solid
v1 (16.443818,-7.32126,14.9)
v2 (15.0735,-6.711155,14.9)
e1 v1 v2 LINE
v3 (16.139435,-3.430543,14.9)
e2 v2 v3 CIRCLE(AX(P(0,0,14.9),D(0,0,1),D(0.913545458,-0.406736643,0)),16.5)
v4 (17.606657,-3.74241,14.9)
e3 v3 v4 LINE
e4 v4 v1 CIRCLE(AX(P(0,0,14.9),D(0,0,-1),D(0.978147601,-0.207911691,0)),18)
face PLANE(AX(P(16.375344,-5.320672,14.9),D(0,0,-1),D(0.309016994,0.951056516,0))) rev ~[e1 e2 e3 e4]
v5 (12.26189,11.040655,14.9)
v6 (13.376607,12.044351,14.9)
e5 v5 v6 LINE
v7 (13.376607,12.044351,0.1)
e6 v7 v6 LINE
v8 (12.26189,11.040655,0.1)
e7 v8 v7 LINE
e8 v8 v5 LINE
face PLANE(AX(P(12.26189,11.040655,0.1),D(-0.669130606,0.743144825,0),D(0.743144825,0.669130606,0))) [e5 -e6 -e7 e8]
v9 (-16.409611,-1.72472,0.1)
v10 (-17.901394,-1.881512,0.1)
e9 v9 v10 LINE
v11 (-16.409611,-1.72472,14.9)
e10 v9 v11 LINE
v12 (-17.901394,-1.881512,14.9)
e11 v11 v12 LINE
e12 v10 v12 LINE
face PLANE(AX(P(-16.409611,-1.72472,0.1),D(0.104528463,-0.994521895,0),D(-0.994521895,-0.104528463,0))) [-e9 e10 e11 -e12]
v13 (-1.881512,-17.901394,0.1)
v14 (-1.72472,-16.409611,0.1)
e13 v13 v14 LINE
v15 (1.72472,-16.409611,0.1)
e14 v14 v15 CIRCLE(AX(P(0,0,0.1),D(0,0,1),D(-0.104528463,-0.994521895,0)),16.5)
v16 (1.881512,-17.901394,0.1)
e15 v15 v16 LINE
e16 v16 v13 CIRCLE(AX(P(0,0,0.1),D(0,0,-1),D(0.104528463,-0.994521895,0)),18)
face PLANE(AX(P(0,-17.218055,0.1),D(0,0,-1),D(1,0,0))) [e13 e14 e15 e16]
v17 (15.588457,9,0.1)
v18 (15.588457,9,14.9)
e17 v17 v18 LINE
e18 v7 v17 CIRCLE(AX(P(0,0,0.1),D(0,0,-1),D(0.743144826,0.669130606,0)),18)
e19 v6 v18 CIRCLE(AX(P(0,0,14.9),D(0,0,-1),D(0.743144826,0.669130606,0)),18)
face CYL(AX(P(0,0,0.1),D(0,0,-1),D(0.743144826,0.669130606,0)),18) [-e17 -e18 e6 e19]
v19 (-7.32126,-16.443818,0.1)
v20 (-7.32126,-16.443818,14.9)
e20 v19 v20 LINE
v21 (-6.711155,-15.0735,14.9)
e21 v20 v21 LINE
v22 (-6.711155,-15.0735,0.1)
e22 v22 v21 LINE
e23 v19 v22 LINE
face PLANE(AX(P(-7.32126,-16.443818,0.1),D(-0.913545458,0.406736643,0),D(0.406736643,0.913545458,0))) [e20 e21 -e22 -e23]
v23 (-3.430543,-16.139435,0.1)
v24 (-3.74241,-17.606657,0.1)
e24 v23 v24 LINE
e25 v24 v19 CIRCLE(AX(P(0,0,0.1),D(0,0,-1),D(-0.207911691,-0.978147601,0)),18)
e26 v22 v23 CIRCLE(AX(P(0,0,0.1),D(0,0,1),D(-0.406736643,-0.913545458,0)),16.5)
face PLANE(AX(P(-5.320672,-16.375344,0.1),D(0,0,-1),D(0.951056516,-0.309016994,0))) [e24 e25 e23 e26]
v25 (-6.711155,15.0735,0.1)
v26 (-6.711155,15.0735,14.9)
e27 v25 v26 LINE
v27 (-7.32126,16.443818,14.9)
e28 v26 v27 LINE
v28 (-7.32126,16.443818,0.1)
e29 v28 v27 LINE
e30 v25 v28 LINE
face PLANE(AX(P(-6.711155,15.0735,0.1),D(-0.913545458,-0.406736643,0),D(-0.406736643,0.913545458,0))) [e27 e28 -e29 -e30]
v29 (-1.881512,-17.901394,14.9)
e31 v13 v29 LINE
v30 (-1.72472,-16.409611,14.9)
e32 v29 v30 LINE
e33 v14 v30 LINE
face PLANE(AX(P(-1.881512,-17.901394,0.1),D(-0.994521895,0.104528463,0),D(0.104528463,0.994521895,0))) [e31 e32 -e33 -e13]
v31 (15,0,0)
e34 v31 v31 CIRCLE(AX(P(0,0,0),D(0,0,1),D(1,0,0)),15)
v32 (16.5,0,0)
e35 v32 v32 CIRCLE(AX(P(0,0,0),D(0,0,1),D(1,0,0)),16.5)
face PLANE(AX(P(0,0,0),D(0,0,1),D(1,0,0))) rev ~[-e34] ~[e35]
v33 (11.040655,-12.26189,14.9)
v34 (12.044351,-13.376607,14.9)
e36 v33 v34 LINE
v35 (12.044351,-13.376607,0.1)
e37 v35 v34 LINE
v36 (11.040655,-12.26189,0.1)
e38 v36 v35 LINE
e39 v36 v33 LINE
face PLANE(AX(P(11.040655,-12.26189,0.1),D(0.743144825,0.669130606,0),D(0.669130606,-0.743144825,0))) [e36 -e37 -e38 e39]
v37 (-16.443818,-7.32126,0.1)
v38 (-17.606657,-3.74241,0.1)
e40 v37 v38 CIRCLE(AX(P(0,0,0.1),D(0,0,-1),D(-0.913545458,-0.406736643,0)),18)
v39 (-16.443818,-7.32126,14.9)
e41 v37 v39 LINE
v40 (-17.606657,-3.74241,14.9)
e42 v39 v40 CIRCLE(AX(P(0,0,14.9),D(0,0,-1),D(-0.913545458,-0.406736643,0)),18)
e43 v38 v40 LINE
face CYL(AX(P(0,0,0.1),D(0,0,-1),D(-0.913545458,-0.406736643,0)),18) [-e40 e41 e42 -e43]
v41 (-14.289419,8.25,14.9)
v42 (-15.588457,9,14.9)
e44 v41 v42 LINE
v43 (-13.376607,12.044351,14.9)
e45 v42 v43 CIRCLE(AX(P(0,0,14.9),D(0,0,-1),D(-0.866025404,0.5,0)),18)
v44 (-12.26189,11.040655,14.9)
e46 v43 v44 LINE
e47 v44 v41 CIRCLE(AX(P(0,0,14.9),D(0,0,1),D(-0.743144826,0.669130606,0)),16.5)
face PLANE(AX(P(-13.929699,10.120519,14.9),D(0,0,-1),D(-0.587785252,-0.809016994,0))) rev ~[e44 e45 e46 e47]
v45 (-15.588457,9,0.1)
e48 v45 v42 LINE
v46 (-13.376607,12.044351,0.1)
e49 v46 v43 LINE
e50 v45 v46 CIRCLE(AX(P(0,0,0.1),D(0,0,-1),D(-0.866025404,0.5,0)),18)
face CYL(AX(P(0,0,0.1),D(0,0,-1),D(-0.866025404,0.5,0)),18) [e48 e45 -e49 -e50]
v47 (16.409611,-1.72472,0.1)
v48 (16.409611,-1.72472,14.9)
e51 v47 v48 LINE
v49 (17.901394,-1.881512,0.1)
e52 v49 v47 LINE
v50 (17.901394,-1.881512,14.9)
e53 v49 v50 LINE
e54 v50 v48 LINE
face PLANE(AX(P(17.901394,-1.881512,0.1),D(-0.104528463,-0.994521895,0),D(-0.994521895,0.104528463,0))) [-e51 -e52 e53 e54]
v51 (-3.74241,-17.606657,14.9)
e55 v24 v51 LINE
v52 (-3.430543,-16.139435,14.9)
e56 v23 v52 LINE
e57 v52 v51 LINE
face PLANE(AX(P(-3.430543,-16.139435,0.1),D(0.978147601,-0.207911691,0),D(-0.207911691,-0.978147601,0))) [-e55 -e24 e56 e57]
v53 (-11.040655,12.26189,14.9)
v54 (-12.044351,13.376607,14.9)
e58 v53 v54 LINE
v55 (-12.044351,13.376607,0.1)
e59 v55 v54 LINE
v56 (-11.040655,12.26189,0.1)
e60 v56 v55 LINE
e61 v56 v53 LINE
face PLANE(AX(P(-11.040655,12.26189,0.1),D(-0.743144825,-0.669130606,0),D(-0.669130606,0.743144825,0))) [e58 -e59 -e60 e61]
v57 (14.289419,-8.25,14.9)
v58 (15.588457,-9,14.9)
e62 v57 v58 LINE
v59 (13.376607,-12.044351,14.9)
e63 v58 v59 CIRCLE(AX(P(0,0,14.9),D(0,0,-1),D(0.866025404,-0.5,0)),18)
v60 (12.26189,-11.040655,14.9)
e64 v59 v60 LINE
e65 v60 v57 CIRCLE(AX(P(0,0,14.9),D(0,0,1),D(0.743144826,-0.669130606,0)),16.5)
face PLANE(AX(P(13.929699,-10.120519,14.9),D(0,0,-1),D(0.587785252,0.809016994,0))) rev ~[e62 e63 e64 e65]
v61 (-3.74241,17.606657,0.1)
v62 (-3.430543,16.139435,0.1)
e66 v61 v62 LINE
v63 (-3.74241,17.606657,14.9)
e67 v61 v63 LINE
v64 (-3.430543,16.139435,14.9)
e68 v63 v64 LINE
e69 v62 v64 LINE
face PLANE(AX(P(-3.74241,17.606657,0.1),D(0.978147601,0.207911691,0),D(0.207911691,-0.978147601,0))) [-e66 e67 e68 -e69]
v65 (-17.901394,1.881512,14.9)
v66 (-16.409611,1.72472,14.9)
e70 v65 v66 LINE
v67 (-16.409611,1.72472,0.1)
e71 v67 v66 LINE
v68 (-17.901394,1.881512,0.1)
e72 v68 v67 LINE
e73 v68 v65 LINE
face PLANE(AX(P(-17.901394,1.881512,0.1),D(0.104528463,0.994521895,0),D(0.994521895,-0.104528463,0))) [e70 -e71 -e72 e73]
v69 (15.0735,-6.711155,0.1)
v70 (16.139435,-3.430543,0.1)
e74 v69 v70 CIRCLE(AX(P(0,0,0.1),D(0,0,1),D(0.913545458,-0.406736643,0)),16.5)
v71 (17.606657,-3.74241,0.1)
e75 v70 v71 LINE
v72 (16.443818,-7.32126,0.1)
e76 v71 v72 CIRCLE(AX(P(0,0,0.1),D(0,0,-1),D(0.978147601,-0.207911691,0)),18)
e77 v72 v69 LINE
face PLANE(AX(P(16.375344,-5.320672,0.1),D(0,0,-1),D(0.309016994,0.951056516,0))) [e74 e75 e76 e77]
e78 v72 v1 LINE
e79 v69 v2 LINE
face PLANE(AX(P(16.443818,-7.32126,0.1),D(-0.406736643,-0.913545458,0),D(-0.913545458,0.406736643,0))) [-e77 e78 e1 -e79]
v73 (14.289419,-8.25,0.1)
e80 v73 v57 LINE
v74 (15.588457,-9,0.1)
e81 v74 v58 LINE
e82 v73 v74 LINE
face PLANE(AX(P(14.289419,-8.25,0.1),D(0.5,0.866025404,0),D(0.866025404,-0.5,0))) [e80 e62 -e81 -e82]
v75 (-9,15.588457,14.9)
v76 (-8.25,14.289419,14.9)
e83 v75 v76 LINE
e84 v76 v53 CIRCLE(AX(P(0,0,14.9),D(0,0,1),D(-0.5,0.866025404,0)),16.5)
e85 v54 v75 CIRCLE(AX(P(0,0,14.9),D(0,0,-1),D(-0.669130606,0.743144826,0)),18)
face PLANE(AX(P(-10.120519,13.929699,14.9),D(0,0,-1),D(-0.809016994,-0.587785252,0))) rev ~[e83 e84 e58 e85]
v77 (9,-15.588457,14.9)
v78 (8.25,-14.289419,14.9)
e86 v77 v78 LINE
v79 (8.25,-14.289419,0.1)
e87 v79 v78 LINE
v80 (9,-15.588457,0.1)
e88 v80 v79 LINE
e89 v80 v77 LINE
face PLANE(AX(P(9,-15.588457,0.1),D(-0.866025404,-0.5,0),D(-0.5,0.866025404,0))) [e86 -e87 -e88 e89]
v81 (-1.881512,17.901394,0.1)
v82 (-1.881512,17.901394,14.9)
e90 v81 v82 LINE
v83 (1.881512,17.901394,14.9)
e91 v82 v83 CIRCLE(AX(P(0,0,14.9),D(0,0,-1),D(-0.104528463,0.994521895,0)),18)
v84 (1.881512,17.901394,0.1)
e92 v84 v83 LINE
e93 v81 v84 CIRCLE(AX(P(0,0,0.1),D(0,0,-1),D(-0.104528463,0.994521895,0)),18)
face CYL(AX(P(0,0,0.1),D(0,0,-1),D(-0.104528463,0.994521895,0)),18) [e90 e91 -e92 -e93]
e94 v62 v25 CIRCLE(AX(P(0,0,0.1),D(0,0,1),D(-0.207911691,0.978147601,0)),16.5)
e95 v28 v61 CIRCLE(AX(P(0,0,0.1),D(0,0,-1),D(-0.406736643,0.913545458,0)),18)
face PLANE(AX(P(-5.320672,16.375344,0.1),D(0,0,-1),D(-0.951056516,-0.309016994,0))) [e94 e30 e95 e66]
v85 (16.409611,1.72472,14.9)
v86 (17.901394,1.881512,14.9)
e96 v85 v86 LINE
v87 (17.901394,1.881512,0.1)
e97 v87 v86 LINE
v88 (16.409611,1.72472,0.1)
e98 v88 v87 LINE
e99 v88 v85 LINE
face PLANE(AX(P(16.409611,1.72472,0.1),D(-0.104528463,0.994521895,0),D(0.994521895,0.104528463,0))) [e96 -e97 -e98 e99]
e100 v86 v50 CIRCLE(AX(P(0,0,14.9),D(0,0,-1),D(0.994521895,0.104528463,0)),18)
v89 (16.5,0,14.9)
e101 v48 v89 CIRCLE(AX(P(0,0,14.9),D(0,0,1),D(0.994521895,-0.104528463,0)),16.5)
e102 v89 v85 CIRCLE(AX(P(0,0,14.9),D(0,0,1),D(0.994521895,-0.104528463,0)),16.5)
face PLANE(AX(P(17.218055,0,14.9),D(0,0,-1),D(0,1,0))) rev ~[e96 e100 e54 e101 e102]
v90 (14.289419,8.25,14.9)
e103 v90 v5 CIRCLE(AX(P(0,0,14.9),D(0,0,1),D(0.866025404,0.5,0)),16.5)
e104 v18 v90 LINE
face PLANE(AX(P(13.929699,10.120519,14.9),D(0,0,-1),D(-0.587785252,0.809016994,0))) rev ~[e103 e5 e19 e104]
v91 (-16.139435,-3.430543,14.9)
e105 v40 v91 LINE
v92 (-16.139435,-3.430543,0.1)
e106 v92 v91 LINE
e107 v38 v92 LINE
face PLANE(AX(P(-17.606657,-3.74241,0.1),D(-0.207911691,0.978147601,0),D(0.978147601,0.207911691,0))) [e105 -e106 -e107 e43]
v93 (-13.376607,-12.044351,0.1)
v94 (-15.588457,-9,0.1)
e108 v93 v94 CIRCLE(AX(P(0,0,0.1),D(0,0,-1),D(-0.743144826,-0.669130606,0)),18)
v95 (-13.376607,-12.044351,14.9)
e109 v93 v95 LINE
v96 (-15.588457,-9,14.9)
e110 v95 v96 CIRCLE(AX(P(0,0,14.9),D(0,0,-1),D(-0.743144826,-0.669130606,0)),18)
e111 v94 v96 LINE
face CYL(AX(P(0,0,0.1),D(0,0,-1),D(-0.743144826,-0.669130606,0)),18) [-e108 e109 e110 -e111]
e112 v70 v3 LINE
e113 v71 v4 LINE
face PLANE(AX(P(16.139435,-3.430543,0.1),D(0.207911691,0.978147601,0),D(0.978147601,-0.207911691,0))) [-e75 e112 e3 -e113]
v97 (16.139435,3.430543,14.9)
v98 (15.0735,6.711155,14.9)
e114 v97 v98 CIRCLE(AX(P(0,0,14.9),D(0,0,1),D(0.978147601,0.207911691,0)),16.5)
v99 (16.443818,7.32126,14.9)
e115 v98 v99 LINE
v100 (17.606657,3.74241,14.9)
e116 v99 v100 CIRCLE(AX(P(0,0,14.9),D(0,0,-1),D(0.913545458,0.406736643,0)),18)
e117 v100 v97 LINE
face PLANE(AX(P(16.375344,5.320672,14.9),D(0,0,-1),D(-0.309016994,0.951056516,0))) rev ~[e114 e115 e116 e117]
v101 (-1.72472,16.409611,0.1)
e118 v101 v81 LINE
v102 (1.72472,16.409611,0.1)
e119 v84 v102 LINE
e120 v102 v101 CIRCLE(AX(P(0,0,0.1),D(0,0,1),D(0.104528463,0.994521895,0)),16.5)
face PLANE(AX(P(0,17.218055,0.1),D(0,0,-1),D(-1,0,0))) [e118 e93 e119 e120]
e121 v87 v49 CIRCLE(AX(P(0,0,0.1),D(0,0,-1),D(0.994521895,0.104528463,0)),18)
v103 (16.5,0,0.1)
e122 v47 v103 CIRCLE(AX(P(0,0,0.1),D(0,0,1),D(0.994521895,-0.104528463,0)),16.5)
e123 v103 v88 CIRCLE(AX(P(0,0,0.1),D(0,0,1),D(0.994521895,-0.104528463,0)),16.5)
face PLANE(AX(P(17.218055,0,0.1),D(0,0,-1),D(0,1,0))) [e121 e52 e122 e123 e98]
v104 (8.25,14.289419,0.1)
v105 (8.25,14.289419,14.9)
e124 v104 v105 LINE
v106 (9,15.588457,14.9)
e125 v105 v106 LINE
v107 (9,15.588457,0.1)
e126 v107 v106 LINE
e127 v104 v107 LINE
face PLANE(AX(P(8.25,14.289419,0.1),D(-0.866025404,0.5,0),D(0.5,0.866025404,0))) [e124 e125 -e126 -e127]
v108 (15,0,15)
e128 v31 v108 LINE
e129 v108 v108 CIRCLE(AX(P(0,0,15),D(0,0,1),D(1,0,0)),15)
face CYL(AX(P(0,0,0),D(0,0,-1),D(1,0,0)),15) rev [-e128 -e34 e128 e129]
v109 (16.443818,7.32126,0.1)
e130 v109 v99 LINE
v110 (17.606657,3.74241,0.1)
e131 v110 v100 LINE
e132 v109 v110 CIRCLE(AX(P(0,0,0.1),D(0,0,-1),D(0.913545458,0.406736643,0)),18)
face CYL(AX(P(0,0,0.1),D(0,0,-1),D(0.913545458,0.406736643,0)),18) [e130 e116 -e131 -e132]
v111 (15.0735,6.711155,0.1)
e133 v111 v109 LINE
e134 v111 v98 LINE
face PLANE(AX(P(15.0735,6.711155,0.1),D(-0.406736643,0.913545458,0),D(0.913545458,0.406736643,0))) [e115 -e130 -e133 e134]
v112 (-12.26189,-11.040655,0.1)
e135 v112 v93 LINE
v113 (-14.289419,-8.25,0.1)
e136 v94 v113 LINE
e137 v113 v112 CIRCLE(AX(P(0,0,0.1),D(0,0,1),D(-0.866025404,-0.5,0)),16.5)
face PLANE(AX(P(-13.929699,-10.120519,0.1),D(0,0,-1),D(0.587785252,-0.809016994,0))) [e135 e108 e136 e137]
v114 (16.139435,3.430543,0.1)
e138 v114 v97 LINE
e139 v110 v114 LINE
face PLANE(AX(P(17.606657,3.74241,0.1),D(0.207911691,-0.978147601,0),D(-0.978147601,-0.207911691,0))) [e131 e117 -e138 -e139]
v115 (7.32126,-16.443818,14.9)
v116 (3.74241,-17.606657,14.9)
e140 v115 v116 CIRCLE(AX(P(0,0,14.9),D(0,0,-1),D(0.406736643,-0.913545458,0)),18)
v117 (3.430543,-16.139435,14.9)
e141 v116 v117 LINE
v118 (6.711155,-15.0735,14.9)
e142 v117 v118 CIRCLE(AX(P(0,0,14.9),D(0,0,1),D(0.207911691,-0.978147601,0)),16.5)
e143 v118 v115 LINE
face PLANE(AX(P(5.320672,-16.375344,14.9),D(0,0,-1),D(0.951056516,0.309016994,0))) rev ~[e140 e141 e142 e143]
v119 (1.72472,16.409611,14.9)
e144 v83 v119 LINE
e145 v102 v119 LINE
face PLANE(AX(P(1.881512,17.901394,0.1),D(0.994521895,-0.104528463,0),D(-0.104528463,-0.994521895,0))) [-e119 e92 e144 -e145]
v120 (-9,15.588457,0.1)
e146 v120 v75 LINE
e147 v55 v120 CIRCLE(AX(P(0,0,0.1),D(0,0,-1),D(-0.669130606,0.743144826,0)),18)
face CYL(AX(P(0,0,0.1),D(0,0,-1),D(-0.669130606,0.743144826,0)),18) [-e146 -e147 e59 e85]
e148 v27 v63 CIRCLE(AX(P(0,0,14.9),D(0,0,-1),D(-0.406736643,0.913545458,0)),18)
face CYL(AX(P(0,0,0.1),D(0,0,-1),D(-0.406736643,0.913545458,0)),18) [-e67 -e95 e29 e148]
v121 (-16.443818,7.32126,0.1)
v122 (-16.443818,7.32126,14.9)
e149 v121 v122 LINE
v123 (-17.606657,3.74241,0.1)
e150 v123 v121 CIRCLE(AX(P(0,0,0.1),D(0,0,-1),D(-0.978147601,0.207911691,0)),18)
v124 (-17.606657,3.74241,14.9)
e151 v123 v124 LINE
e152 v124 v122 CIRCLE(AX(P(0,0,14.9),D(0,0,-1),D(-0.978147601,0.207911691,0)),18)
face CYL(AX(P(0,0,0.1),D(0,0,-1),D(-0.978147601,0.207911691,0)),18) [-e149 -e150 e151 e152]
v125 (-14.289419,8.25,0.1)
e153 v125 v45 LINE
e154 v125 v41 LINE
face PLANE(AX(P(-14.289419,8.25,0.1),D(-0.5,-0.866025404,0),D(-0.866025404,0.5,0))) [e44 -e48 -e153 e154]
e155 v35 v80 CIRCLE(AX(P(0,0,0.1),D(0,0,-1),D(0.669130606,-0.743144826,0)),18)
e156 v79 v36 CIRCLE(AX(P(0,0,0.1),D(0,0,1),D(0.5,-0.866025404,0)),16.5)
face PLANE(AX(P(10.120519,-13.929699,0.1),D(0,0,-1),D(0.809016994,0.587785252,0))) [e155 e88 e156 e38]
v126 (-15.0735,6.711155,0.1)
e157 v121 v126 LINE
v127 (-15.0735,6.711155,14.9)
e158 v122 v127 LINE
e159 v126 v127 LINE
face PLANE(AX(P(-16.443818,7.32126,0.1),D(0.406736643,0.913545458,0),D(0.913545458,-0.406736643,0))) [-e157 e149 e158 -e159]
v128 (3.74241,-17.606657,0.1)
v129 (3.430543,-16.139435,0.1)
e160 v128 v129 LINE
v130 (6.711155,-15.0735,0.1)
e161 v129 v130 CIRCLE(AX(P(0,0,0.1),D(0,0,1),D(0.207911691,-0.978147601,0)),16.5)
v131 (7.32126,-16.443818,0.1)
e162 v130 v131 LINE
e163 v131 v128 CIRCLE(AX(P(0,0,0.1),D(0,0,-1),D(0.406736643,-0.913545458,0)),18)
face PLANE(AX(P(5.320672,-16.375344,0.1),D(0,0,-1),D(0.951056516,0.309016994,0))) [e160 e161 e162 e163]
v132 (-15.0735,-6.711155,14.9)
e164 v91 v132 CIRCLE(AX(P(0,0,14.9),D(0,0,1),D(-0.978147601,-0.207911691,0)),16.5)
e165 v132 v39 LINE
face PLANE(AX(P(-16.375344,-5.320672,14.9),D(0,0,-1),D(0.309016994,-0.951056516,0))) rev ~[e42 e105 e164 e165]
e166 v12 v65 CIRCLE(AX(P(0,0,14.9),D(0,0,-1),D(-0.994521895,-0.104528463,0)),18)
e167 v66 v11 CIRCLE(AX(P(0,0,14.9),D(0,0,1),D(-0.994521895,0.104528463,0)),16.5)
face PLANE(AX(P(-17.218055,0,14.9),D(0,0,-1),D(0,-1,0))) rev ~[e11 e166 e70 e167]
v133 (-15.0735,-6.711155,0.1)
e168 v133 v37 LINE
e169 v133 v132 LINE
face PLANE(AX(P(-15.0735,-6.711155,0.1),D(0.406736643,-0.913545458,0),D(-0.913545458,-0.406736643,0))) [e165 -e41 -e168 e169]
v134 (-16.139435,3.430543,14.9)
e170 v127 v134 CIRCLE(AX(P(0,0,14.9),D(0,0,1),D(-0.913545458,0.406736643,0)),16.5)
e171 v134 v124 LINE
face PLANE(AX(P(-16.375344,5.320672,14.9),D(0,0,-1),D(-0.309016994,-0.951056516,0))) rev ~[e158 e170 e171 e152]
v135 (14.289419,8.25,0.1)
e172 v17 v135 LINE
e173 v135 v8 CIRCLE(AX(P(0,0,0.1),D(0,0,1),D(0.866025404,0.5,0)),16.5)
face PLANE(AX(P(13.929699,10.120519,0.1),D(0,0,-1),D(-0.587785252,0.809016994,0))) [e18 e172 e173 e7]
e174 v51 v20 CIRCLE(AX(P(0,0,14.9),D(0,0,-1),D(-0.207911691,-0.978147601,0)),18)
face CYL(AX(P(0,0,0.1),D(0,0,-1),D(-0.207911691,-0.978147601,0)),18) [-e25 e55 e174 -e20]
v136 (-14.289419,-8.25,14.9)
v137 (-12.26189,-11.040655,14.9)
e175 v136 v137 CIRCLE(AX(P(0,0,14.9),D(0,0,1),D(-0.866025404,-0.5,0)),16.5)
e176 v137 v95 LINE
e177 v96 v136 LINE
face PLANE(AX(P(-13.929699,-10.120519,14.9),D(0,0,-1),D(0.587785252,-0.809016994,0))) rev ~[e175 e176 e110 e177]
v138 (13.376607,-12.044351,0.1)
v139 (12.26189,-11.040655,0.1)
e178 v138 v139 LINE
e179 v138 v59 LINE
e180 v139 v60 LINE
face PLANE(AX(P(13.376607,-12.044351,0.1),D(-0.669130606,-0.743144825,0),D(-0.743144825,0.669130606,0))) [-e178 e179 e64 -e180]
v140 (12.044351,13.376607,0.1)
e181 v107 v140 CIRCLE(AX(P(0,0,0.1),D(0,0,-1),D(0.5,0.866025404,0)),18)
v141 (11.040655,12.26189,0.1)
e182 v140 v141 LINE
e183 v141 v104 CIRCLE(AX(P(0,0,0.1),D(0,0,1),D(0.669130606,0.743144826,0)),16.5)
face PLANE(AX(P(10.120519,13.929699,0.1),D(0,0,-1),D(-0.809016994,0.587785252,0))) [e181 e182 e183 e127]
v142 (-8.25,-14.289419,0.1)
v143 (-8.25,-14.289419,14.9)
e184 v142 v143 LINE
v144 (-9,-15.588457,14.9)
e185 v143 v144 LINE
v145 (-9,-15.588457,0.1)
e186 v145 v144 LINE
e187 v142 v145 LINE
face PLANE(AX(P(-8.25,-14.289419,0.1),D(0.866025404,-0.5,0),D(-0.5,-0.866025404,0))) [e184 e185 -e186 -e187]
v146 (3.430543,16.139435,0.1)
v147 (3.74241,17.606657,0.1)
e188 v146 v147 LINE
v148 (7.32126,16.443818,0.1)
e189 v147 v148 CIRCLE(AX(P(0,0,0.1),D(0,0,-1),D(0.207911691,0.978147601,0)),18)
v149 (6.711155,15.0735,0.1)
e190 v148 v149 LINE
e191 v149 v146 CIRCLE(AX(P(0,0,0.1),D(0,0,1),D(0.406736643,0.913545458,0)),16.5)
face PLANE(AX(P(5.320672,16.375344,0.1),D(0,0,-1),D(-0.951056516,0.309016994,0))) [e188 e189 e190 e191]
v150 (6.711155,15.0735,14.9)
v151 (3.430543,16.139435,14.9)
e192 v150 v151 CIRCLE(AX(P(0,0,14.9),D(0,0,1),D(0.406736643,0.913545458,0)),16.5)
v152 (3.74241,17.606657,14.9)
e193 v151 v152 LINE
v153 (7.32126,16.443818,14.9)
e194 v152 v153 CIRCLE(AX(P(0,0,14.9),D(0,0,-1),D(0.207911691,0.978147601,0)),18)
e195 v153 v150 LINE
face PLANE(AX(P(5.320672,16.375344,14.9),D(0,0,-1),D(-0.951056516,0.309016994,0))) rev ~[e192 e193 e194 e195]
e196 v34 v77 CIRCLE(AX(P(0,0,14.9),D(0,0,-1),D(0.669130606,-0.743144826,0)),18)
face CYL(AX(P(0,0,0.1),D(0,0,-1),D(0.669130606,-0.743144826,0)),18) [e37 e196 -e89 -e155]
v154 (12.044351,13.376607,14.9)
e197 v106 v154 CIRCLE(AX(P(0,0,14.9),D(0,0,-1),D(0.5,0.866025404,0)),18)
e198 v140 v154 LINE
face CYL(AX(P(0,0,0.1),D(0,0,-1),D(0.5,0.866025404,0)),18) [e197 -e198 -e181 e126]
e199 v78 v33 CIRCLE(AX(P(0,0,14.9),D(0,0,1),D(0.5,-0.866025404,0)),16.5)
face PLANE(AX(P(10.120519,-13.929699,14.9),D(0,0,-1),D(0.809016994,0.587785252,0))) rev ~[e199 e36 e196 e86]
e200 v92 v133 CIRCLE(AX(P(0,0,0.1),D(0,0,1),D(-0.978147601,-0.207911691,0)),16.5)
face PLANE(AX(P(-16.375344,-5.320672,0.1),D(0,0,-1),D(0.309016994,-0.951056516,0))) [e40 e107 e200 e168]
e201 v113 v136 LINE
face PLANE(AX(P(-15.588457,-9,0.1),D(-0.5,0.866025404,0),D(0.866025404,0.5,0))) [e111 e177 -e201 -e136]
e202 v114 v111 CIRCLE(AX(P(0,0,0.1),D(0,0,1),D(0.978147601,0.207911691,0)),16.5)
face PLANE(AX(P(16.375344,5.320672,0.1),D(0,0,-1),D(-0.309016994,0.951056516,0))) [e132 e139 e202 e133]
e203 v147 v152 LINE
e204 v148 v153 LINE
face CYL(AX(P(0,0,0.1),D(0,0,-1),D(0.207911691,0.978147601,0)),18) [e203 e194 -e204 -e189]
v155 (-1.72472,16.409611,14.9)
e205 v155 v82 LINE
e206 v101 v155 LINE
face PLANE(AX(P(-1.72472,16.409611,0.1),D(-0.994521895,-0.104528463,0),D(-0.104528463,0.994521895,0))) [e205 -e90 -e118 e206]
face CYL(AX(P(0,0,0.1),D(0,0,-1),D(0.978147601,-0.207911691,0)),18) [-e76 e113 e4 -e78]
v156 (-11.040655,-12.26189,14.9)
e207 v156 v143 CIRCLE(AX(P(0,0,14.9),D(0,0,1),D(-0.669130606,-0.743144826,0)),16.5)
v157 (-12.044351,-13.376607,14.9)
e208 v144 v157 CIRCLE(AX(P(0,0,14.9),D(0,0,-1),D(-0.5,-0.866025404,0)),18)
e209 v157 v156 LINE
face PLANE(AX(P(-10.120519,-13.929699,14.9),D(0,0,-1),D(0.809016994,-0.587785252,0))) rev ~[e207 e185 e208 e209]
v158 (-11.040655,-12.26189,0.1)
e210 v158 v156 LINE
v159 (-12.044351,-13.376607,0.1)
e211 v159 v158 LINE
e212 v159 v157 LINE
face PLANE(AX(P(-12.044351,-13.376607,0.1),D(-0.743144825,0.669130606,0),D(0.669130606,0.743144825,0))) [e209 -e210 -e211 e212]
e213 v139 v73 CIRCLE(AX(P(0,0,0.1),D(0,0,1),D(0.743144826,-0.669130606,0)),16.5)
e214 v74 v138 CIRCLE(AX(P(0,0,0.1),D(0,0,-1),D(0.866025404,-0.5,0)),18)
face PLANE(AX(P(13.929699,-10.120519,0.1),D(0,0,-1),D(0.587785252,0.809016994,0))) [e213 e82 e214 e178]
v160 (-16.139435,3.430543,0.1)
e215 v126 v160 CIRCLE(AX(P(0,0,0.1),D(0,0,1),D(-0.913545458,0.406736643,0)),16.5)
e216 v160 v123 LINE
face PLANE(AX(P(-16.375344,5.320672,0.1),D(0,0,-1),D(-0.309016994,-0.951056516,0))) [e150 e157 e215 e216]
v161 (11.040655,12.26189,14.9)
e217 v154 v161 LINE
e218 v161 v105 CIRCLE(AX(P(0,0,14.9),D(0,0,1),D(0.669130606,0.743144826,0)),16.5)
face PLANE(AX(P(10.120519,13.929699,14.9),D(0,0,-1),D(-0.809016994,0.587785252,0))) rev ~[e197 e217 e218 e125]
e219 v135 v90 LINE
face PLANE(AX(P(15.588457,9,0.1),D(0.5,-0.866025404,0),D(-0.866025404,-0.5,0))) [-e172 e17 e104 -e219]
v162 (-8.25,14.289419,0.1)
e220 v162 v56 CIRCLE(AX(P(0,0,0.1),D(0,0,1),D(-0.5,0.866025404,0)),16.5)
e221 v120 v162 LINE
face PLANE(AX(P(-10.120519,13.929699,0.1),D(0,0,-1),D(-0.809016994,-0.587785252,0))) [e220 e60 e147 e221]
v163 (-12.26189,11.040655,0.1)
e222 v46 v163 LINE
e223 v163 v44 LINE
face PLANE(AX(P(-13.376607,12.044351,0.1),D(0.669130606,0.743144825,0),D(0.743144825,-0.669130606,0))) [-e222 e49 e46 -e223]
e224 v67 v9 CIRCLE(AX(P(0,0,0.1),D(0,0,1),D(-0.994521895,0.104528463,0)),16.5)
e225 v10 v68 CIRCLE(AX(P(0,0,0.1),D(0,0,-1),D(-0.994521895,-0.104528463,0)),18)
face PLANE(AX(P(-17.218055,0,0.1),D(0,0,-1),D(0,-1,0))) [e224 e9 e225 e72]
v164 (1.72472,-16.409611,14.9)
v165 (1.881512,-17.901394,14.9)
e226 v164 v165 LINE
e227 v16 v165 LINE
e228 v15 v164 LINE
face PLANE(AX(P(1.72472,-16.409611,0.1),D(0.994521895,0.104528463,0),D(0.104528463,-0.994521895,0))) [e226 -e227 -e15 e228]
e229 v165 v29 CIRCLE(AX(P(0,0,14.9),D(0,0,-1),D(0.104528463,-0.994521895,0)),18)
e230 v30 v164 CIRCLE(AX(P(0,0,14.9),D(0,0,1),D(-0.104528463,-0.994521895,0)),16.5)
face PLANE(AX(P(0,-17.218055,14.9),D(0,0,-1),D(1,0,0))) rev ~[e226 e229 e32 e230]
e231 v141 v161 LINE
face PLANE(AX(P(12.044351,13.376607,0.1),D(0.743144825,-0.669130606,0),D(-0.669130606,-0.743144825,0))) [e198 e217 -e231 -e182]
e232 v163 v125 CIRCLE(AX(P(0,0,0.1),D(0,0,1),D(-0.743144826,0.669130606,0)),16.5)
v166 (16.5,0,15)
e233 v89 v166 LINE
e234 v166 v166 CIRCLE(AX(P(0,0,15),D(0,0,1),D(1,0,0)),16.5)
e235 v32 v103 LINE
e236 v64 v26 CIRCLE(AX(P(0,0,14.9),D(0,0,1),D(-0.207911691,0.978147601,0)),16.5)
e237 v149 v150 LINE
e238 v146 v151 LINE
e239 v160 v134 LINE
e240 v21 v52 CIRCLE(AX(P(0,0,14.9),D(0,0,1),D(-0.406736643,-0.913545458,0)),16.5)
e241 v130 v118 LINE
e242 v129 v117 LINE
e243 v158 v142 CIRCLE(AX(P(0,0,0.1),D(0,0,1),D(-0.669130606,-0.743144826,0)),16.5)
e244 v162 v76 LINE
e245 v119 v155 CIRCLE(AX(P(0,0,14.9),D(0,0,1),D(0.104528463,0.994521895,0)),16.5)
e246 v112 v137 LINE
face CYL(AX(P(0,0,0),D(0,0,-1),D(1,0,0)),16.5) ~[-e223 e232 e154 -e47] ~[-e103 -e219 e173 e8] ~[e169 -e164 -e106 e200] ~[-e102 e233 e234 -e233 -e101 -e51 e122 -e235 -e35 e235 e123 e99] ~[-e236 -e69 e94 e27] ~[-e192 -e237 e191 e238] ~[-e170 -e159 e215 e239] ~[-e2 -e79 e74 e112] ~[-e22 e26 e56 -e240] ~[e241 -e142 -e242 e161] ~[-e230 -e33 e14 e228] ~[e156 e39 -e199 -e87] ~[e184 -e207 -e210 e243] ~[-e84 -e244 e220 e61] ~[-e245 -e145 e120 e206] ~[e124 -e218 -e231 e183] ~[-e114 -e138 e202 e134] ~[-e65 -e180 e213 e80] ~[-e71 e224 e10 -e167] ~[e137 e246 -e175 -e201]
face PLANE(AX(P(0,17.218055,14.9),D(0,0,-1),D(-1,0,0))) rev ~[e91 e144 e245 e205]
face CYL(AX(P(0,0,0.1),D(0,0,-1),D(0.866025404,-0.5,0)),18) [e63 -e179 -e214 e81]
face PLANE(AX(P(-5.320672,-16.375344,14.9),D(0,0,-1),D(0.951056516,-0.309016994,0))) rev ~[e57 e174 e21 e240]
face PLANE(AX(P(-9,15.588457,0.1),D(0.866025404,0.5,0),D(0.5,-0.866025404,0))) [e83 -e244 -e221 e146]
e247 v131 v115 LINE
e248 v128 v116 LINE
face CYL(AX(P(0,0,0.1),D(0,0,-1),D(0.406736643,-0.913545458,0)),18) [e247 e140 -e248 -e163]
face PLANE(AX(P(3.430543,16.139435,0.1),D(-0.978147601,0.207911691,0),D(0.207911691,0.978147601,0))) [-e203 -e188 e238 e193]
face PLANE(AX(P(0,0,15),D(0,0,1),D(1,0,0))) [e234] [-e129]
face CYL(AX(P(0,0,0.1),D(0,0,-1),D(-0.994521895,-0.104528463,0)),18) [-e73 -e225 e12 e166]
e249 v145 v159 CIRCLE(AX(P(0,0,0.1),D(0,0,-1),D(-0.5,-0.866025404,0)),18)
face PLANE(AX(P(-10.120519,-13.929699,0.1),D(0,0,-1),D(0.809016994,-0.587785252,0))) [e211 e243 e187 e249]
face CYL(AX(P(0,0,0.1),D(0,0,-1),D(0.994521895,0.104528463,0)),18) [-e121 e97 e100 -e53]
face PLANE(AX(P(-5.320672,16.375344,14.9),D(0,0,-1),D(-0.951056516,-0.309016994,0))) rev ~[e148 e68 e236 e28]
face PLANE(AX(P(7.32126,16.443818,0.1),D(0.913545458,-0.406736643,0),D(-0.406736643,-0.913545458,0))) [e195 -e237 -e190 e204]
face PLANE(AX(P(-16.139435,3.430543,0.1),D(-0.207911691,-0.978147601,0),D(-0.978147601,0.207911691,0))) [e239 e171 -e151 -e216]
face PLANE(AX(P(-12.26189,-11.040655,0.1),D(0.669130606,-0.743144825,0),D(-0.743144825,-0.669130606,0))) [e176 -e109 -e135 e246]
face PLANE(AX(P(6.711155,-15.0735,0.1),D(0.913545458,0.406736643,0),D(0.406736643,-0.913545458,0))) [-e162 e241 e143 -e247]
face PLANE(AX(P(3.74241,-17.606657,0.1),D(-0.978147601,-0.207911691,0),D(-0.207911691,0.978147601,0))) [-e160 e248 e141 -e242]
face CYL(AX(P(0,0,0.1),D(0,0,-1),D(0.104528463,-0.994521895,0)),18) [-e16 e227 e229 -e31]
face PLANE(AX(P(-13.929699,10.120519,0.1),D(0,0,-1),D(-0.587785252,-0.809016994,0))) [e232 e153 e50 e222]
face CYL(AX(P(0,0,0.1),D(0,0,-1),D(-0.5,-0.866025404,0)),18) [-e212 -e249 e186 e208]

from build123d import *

# Parameters (mm, degrees)
SKETCH1_R           = 16.5
SKETCH1_R_2         = 15
BOSS_EXTRUDE1_DEPTH = 15
BOSS_EXTRUDE3_DEPTH = 14.8
CIRPATTERN1_COUNT   = 20


with BuildPart() as part:
    # Sketch1 → Boss-Extrude1 (new body)
    with BuildSketch(Plane.XY):
        Circle(SKETCH1_R)
        Circle(SKETCH1_R_2, mode=Mode.SUBTRACT)
    extrude(amount=BOSS_EXTRUDE1_DEPTH)

    # Sketch2 → Boss-Extrude3 (add)
    with BuildSketch(Plane(origin=(0, 0, 0.1), x_dir=(-1, 0, 0), z_dir=(0, 0, -1))):
        with BuildLine():
            Line((-1.881512339, 17.901394117), (-1.724719644, 16.409611274))
            ThreePointArc((-1.724719644, 16.409611274), (0, 16.5), (1.724719644, 16.409611274))
            Line((1.724719644, 16.409611274), (1.881512339, 17.901394117))
            ThreePointArc((1.881512339, 17.901394117), (0, 18), (-1.881512339, 17.901394117))
        make_face()
    boss_extrude3 = extrude(amount=-BOSS_EXTRUDE3_DEPTH)

    # CirPattern1: Boss-Extrude3 ×20 about axis
    cirpattern1_axis = Axis((0, 0, 0), (0, 0, 1))
    for i in range(1, CIRPATTERN1_COUNT):
        add(boss_extrude3.rotate(cirpattern1_axis, i * 360 / CIRPATTERN1_COUNT))


solid = part.part
